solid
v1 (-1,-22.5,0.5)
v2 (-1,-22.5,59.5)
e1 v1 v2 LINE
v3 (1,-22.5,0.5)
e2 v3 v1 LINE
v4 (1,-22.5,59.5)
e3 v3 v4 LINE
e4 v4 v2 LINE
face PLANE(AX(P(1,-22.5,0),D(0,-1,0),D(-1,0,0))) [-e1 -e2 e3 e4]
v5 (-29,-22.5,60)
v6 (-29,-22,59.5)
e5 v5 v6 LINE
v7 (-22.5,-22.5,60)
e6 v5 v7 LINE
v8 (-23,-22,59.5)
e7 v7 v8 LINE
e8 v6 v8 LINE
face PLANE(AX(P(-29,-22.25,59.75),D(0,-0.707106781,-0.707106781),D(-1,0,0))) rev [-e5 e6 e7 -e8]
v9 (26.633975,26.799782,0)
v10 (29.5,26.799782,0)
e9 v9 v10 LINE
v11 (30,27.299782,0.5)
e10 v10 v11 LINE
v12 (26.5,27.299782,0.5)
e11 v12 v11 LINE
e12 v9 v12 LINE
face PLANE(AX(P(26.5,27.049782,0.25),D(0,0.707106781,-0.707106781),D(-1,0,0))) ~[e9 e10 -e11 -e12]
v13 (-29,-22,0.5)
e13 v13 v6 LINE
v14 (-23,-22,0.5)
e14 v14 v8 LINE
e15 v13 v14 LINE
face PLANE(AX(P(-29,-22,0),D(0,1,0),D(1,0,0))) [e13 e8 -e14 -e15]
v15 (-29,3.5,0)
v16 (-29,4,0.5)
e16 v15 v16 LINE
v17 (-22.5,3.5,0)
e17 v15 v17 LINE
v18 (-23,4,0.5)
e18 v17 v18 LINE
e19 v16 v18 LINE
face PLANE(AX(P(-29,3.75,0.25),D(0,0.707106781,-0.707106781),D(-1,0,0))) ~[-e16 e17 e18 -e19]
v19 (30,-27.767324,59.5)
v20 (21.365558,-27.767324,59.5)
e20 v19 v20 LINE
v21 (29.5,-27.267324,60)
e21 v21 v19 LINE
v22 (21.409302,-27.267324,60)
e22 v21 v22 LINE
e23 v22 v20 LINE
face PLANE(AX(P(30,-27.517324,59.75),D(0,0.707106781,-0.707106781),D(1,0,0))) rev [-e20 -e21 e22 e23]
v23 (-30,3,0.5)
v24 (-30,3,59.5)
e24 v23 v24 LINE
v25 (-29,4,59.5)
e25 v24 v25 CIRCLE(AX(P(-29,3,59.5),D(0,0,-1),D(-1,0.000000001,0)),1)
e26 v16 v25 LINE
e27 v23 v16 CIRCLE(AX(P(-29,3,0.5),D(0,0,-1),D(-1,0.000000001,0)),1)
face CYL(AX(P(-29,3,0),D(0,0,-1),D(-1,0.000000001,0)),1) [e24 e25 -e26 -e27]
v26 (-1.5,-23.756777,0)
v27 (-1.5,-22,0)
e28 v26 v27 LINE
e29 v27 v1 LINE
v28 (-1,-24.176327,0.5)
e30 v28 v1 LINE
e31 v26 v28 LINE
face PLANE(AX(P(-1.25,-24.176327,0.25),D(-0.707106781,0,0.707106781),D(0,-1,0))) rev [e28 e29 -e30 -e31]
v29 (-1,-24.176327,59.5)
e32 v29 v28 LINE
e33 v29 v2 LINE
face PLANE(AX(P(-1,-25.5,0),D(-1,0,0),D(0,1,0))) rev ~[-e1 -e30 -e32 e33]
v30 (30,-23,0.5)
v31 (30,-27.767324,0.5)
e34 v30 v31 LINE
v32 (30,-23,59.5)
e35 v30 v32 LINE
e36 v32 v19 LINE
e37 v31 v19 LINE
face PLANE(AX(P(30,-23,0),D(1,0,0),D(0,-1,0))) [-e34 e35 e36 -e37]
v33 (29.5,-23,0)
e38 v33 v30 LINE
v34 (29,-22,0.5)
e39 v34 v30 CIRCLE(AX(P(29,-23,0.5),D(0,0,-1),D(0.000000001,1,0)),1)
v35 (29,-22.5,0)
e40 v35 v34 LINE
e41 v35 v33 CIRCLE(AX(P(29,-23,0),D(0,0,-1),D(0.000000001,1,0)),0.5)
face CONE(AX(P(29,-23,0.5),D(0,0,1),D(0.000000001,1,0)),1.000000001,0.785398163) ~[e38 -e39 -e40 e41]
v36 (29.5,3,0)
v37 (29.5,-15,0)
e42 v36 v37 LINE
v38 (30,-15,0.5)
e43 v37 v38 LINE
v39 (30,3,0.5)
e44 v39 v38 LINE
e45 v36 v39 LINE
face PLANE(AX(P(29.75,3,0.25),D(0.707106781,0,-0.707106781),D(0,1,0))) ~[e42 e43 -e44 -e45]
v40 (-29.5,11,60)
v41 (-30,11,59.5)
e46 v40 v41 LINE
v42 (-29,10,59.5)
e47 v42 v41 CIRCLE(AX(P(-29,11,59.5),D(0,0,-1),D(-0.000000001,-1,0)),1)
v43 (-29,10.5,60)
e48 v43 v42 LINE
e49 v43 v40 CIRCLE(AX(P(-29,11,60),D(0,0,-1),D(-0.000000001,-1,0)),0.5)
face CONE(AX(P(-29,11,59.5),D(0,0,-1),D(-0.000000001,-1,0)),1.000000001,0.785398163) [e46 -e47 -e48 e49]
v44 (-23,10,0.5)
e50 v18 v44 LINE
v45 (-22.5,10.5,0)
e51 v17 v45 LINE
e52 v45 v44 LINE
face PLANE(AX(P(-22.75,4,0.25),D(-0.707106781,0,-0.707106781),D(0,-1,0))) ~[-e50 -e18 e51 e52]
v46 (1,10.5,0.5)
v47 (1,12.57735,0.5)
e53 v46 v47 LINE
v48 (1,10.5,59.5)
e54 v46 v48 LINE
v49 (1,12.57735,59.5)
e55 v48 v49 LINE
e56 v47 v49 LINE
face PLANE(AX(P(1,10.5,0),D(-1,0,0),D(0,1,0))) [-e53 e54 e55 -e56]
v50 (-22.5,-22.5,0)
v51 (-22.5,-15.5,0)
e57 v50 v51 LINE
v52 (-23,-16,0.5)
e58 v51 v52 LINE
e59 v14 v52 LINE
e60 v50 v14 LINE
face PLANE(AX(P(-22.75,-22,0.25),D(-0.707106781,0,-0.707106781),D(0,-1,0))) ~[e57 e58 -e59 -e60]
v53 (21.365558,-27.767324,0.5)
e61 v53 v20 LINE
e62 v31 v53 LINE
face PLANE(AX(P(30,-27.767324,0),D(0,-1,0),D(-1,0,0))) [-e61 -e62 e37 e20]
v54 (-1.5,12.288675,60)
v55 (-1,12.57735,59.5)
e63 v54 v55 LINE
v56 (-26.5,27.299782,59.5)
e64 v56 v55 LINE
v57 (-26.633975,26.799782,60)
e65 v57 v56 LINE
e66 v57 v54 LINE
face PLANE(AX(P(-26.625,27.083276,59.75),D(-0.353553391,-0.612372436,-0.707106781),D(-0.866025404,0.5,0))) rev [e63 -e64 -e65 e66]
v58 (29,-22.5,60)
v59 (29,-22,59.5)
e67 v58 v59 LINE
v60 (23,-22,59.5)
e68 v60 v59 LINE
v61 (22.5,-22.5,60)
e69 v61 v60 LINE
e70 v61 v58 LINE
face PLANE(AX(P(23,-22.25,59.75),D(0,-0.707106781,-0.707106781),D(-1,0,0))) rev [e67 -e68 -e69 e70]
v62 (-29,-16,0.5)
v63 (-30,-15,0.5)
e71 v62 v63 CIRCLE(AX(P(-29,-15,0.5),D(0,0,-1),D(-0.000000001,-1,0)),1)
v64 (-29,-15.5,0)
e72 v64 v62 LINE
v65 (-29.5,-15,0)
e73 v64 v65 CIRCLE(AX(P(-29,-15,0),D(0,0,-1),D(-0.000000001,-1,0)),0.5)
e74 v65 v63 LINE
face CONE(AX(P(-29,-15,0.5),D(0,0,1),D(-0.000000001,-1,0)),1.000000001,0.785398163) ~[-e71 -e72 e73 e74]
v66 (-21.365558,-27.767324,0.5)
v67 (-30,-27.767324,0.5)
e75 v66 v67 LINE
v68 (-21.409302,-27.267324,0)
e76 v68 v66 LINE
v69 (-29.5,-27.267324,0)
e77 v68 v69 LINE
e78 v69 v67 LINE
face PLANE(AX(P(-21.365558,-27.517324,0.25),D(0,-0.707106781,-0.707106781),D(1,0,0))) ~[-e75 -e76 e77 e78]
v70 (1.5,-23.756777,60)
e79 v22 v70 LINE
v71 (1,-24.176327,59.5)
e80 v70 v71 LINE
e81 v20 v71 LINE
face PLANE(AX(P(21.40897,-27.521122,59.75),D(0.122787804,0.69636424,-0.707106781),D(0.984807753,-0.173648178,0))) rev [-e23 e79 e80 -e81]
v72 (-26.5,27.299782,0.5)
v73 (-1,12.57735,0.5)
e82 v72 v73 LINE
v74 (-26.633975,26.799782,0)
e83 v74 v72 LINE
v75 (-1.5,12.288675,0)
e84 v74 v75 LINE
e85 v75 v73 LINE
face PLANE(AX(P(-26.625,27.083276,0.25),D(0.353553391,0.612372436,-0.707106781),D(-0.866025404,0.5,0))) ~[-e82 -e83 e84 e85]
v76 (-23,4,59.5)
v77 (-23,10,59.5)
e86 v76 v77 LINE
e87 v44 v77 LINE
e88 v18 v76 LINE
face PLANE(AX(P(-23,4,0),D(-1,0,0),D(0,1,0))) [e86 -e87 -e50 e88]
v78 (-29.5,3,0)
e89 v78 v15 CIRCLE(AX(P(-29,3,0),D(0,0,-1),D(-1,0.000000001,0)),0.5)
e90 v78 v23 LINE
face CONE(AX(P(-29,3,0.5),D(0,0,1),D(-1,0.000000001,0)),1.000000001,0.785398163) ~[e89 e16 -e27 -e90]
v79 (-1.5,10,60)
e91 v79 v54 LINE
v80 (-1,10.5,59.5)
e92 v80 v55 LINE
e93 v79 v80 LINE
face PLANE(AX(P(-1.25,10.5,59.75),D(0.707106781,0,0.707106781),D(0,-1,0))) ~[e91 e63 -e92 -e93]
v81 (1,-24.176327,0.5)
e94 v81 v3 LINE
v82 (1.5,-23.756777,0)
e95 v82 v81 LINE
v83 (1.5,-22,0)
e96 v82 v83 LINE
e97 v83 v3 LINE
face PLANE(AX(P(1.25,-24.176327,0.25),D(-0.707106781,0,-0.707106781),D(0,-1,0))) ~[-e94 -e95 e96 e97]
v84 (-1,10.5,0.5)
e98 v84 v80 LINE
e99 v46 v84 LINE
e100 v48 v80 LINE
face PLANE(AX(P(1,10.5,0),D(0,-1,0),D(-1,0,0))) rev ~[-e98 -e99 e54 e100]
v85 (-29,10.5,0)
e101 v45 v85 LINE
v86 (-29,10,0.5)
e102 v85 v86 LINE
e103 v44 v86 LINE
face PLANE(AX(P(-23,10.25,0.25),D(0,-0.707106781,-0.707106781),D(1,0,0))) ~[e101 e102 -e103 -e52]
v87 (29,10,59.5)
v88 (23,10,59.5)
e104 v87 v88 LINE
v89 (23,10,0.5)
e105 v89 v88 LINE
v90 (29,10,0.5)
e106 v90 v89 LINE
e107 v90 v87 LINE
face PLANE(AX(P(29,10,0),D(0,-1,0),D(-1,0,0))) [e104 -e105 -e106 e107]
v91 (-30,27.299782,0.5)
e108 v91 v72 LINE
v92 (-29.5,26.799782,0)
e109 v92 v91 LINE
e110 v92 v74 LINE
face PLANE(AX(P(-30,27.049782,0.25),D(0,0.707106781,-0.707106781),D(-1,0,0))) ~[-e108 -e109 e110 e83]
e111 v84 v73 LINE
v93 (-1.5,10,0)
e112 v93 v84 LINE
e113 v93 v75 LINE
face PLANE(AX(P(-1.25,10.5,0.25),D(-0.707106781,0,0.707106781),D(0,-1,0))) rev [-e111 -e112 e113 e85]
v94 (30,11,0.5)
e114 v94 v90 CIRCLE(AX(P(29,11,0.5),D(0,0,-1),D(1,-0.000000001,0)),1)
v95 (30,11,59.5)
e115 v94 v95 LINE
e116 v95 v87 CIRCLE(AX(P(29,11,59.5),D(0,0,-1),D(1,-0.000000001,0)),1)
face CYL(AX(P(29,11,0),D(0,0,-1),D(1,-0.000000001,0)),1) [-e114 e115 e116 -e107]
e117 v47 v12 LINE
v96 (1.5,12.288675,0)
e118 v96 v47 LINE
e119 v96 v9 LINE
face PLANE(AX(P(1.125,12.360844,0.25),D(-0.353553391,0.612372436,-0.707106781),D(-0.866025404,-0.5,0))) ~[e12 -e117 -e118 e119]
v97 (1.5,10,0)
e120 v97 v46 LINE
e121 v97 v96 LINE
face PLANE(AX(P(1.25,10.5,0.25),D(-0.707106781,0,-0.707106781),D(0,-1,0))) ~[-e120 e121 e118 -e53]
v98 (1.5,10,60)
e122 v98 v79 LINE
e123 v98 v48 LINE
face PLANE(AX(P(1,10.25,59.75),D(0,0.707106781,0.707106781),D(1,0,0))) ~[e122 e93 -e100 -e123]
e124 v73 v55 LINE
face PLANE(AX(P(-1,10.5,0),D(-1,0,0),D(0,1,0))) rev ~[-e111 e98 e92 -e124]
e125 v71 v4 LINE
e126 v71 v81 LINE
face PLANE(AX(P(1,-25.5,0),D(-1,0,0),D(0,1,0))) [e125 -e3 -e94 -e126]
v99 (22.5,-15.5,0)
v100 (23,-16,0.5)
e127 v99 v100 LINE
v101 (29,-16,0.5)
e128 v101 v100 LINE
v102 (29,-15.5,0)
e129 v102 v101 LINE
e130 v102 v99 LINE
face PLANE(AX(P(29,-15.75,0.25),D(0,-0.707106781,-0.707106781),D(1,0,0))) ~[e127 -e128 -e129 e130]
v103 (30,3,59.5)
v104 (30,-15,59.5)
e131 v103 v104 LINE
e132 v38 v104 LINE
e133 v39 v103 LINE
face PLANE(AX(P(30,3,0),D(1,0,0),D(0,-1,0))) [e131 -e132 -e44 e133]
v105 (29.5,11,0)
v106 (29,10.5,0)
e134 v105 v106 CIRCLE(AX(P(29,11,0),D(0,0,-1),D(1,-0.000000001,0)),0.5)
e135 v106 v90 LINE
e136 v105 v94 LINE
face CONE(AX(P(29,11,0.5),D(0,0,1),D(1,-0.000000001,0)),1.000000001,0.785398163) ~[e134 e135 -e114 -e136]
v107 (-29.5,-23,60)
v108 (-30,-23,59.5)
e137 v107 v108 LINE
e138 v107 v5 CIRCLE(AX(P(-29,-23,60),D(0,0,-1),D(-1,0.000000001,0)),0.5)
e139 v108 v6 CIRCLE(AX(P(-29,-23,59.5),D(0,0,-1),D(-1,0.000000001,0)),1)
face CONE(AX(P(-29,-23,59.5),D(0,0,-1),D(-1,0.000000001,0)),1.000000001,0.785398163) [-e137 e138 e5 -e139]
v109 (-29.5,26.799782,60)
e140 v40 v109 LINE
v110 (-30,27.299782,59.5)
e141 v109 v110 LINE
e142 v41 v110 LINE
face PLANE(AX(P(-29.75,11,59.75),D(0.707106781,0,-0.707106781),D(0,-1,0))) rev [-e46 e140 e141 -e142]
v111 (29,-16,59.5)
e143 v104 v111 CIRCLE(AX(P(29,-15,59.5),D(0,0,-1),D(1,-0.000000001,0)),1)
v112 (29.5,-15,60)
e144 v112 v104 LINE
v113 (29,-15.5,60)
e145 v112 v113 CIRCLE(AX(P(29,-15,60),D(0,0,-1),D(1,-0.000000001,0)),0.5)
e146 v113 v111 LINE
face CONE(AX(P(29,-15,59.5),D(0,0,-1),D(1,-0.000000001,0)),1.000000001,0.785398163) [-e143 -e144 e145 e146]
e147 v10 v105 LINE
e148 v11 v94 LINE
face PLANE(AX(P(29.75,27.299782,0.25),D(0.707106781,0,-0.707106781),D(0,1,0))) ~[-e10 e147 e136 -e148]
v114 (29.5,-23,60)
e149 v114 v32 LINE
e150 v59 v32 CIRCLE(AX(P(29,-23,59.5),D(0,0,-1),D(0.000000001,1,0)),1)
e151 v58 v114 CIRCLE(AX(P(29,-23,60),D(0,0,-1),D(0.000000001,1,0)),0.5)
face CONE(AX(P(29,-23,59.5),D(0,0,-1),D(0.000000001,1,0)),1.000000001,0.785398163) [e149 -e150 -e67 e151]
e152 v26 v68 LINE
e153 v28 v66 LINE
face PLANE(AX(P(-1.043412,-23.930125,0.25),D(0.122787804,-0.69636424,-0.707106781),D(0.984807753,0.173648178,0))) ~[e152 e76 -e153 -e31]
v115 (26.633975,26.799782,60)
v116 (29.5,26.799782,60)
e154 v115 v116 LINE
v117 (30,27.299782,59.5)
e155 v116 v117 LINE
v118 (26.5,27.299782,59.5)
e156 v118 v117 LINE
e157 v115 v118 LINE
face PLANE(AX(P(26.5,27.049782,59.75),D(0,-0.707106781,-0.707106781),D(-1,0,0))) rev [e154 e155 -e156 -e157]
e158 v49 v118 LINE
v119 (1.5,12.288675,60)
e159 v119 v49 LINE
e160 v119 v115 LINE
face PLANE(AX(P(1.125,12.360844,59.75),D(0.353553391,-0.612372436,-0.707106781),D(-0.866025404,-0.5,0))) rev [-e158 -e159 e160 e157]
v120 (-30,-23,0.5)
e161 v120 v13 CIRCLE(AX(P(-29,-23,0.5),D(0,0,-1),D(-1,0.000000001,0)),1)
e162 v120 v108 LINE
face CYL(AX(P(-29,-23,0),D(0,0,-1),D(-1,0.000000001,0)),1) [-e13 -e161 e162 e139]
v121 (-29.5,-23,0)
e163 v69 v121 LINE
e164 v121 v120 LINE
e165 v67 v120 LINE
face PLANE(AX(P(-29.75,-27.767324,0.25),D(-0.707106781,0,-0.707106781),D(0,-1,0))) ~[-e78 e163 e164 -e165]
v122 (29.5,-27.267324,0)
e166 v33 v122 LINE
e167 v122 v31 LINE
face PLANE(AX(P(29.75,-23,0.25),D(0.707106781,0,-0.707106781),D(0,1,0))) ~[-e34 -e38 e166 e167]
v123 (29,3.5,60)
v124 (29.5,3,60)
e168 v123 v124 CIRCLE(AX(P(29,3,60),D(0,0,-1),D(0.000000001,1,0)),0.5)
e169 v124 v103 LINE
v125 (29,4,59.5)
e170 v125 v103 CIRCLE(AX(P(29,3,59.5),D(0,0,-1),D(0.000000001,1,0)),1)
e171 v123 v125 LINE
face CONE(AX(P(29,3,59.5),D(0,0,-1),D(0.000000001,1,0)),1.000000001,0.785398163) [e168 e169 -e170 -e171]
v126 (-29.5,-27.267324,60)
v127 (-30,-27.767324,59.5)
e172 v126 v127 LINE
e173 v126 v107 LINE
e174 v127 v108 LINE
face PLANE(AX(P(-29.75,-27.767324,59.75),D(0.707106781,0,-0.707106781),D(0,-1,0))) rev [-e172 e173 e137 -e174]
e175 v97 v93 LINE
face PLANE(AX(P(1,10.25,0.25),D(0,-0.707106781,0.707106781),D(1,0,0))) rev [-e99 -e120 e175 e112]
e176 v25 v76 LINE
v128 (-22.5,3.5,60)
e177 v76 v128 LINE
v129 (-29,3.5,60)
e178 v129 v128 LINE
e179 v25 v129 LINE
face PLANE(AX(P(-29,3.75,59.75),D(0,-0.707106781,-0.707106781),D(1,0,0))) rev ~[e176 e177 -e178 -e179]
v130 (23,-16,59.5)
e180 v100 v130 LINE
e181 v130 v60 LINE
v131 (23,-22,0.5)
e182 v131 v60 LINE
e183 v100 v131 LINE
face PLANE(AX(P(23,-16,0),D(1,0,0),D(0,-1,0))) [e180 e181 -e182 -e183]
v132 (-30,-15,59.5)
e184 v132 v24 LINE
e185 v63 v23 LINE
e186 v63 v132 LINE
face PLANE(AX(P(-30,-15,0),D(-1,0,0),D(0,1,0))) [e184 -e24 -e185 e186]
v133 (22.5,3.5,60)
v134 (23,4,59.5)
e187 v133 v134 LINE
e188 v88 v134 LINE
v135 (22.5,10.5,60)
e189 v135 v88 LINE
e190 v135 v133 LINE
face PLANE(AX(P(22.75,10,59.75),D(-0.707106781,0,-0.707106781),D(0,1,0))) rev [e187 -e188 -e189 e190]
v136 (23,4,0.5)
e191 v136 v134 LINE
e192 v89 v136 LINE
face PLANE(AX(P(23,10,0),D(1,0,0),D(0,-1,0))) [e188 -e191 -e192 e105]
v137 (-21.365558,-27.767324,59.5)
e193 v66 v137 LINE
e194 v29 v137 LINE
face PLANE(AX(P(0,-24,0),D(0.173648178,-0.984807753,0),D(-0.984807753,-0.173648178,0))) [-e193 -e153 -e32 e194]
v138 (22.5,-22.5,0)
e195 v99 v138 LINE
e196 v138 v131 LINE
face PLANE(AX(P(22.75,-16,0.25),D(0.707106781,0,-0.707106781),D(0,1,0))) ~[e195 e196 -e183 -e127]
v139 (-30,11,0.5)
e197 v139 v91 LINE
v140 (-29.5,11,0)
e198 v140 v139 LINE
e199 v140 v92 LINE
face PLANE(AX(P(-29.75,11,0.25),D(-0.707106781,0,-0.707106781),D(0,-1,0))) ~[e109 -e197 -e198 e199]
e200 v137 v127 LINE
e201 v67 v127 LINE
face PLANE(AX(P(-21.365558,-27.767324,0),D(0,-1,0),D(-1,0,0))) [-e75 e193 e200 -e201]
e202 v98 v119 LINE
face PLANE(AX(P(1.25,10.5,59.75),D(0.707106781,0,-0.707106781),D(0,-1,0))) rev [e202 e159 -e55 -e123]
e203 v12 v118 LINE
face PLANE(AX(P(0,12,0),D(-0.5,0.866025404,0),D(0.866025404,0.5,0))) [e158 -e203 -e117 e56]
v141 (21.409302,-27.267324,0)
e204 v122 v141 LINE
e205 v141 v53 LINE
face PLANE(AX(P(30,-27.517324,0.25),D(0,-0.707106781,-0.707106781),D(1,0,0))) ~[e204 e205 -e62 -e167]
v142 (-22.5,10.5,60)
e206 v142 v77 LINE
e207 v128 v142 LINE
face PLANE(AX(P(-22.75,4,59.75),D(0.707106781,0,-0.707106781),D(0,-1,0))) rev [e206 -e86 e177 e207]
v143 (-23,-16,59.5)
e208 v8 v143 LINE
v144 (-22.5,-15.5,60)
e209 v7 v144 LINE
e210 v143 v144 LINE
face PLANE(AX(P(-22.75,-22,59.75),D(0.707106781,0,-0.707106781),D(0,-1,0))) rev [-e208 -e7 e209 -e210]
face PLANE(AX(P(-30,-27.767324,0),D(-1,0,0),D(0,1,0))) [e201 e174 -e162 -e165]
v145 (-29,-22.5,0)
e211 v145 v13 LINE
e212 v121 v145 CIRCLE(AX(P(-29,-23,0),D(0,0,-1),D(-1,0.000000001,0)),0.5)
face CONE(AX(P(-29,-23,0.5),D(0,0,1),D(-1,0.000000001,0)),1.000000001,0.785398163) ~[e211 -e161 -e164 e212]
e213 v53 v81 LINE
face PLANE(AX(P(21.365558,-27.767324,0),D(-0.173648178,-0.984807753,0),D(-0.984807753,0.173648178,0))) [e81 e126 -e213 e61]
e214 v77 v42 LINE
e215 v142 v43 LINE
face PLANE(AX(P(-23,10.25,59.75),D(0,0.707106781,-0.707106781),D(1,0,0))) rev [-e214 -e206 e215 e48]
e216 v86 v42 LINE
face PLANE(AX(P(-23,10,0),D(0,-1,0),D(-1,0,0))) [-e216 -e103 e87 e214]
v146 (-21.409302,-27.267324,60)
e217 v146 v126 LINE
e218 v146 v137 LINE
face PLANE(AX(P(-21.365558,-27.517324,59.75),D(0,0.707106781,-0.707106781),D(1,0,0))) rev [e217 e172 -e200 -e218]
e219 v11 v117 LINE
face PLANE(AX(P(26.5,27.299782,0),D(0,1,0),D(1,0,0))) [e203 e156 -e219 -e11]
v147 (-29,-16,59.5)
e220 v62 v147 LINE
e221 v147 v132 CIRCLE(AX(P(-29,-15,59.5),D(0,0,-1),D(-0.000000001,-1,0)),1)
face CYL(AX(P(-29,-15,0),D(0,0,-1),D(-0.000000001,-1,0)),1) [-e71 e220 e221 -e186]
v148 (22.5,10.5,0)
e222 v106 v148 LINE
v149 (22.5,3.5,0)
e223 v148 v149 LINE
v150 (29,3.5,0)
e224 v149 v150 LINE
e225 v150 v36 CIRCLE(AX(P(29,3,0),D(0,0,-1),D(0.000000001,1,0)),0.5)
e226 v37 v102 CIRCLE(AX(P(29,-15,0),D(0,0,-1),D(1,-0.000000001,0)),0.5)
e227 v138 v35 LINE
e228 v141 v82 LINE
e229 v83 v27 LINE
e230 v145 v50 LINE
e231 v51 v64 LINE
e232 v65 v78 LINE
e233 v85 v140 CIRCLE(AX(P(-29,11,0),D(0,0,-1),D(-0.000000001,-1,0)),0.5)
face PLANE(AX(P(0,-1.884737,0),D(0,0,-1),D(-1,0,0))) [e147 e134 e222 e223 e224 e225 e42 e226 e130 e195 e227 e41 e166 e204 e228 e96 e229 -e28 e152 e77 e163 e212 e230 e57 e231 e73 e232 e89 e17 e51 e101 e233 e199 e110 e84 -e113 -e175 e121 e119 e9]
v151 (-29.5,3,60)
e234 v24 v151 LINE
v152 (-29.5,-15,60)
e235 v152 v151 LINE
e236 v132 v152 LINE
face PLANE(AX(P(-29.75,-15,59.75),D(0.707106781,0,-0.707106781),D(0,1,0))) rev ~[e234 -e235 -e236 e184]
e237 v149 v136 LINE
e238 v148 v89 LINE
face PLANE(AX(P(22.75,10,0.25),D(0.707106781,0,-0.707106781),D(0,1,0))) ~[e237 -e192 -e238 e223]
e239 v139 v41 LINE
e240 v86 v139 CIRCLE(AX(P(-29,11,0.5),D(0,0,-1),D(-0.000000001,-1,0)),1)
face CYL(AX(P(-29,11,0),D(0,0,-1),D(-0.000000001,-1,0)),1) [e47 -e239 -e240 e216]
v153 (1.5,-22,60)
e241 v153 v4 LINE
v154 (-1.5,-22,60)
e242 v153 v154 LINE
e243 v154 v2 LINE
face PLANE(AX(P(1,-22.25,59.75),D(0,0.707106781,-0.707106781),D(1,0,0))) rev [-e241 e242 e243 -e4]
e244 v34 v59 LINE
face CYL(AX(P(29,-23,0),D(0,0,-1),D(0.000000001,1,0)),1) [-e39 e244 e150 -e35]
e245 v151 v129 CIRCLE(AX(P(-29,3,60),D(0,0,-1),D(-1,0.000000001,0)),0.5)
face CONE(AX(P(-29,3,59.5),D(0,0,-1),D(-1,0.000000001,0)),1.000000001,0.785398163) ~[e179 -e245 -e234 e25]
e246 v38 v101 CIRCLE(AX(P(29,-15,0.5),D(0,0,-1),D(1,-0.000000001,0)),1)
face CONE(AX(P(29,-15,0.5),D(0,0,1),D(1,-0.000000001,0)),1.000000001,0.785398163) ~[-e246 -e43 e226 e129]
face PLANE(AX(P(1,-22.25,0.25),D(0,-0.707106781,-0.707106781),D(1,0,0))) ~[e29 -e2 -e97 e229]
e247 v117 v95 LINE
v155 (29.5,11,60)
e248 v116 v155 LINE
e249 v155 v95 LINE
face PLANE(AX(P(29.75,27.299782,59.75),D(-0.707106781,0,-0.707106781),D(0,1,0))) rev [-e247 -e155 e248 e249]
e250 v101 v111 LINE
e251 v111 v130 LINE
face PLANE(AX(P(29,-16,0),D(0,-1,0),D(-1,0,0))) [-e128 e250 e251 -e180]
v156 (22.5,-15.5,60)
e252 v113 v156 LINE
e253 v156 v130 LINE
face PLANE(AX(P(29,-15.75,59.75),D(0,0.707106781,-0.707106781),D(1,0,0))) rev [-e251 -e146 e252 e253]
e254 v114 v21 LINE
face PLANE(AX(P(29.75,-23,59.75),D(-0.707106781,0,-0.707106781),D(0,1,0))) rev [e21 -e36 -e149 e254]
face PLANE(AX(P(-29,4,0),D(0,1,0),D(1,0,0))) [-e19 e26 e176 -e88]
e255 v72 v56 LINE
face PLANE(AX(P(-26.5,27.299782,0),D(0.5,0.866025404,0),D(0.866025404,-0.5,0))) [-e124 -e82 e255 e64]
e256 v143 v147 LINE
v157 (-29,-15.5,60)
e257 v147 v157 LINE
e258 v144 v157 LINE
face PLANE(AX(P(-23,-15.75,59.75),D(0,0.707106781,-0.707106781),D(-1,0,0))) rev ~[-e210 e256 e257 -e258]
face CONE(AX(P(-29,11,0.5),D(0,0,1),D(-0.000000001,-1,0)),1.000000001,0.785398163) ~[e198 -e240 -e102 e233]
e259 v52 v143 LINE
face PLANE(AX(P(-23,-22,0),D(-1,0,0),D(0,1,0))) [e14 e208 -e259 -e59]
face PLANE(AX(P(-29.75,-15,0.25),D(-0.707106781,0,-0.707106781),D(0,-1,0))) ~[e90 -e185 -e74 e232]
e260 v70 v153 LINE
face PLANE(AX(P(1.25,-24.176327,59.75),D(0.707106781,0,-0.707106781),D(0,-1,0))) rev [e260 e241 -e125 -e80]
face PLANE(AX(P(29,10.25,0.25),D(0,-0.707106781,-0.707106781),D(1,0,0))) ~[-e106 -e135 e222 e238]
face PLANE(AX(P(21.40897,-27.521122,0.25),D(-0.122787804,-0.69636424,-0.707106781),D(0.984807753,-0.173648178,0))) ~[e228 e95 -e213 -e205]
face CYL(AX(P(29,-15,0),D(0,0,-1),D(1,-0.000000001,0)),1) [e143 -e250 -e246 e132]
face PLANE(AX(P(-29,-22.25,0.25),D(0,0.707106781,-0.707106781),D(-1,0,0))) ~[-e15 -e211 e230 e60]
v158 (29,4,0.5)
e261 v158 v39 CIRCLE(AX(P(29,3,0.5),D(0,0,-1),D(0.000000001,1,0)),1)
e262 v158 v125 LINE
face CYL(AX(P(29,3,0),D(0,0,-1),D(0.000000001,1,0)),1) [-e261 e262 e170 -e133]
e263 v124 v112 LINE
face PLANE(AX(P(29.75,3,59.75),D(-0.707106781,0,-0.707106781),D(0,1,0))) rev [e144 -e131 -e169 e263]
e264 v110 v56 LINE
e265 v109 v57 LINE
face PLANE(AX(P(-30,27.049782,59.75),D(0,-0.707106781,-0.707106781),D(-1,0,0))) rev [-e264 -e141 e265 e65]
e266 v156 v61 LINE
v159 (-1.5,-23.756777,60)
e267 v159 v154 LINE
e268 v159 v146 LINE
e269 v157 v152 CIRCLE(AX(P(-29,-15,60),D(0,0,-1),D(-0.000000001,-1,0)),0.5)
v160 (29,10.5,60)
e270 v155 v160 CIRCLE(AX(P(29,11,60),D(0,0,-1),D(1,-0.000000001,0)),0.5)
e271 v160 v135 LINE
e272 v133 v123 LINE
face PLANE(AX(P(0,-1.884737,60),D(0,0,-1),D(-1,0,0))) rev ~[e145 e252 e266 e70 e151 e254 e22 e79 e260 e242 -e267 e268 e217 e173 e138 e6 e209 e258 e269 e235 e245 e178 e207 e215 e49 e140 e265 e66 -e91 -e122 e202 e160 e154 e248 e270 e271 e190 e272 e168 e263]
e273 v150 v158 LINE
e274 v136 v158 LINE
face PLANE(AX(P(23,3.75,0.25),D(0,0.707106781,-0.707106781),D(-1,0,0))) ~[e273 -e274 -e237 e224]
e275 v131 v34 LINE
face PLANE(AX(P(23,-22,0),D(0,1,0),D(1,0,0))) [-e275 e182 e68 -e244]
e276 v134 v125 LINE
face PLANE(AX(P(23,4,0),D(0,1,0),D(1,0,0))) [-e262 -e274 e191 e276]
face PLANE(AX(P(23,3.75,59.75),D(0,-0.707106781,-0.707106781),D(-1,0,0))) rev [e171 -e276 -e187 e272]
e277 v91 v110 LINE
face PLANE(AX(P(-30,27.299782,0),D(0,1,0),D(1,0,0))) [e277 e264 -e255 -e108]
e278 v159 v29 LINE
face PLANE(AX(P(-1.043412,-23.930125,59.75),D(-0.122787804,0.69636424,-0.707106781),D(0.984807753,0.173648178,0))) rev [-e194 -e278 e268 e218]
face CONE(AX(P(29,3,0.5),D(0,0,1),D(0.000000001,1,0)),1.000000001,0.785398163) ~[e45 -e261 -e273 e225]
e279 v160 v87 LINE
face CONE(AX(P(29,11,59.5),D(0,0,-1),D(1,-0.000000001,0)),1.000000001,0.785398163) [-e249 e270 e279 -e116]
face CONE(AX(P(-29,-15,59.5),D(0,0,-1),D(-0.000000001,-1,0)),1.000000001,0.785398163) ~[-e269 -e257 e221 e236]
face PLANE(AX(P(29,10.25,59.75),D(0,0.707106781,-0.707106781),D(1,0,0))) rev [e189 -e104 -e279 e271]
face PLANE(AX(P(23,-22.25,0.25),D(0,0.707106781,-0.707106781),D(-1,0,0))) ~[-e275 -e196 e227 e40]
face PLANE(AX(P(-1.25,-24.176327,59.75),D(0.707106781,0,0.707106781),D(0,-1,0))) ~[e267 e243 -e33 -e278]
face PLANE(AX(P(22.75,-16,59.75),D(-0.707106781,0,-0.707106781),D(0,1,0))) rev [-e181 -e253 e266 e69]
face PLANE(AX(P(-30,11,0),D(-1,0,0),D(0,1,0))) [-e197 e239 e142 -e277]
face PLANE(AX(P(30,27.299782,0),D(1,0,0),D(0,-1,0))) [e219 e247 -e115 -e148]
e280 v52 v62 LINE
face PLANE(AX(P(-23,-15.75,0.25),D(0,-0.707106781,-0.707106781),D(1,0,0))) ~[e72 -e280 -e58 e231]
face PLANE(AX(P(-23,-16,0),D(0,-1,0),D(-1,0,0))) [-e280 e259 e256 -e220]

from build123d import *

# Parameters (mm, degrees)
BOSS_EXTRUDE1_DEPTH = 60
SKETCH3_W           = 2
SKETCH3_H           = 3
CUT_EXTRUDE1_DEPTH  = 73.601820229
CHAMFER1_SIZE       = 0.5


with BuildPart() as part:
    # Sketch1 → Boss-Extrude1 (new body)
    with BuildSketch(Plane.XY):
        with BuildLine():
            Line((-30, 0), (-30, 3))
            ThreePointArc((-30, 3), (-29.707106781, 3.707106781), (-29, 4))
            Line((-29, 4), (-23, 4))
            Line((-23, 4), (-23, 10))
            Line((-23, 10), (-29, 10))
            ThreePointArc((-29, 10), (-29.707106781, 10.292893219), (-30, 11))
            Line((-30, 11), (-30, 27.299782134))
            Line((-30, 27.299782134), (-26.5, 27.299782134))
            Line((-26.5, 27.299782134), (0, 12))
            Line((0, 12), (26.5, 27.299782134))
            Line((26.5, 27.299782134), (30, 27.299782134))
            Line((30, 27.299782134), (30, 11))
            ThreePointArc((30, 11), (29.707106781, 10.292893219), (29, 10))
            Line((29, 10), (23, 10))
            Line((23, 10), (23, 4))
            Line((23, 4), (29, 4))
            ThreePointArc((29, 4), (29.707106781, 3.707106781), (30, 3))
            Line((30, 3), (30, 0))
            Line((30, 0), (30, -15))
            ThreePointArc((30, -15), (29.707106781, -15.707106781), (29, -16))
            Line((29, -16), (23, -16))
            Line((23, -16), (23, -22))
            Line((23, -22), (29, -22))
            ThreePointArc((29, -22), (29.707106781, -22.292893219), (30, -23))
            Line((30, -23), (30, -27.767324332))
            Line((30, -27.767324332), (21.36555799, -27.767324332))
            Line((21.36555799, -27.767324332), (0, -24))
            Line((0, -24), (-21.36555799, -27.767324332))
            Line((-21.36555799, -27.767324332), (-30, -27.767324332))
            Line((-30, -27.767324332), (-30, -23))
            ThreePointArc((-30, -23), (-29.707106781, -22.292893219), (-29, -22))
            Line((-29, -22), (-23, -22))
            Line((-23, -22), (-23, -16))
            Line((-23, -16), (-29, -16))
            ThreePointArc((-29, -16), (-29.707106781, -15.707106781), (-30, -15))
            Line((-30, -15), (-30, 0))
        make_face()
    extrude(amount=BOSS_EXTRUDE1_DEPTH)

    # Sketch3 → Cut-Extrude1 (cut, through all)
    with BuildSketch(Plane(origin=(0, 0, 0), x_dir=(-1, 0, 0), z_dir=(0, 0, -1))):
        with Locations((0, 12)):
            Rectangle(SKETCH3_W, SKETCH3_H)
        with Locations((0, -24)):
            Rectangle(SKETCH3_W, SKETCH3_H)
    extrude(amount=-CUT_EXTRUDE1_DEPTH, mode=Mode.SUBTRACT)

    # Chamfer1
    chamfer1_edges = [part.edges().sort_by_distance(p)[0] for p in [
        (-29.707106781, 3.707106781, 60),
        (-26, 4, 60),
        (-23, 7, 60),
        (-26, 10, 60),
        (-29.707106781, 10.292893219, 60),
        (-30, 19.149891067, 60),
        (-28.25, 27.299782134, 60),
        (-13.75, 19.938566201, 60),
        (13.75, 19.938566201, 60),
        (28.25, 27.299782134, 60),
        (30, 19.149891067, 60),
        (29.707106781, 10.292893219, 60),
        (26, 10, 60),
        (23, 7, 60),
        (26, 4, 60),
        (29.707106781, 3.707106781, 60),
        (30, -6, 60),
        (29.707106781, -15.707106781, 60),
        (26, -16, 60),
        (23, -19, 60),
        (26, -22, 60),
        (29.707106781, -22.292893219, 60),
        (30, -25.383662166, 60),
        (25.682778995, -27.767324332, 60),
        (11.182778995, -25.971825656, 60),
        (-11.182778995, -25.971825656, 60),
        (-25.682778995, -27.767324332, 60),
        (-30, -25.383662166, 60),
        (-29.707106781, -22.292893219, 60),
        (-26, -22, 60),
        (-23, -19, 60),
        (-26, -16, 60),
        (-29.707106781, -15.707106781, 60),
        (-30, -6, 60),
        (-26, -16, 0),
        (-23, -19, 0),
        (-26, -22, 0),
        (-29.707106781, -22.292893219, 0),
        (-30, -25.383662166, 0),
        (-25.682778995, -27.767324332, 0),
        (-11.182778995, -25.971825656, 0),
        (11.182778995, -25.971825656, 0),
        (25.682778995, -27.767324332, 0),
        (30, -25.383662166, 0),
        (29.707106781, -22.292893219, 0),
        (26, -22, 0),
        (23, -19, 0),
        (26, -16, 0),
        (29.707106781, -15.707106781, 0),
        (30, -6, 0),
        (29.707106781, 3.707106781, 0),
        (26, 4, 0),
        (23, 7, 0),
        (26, 10, 0),
        (29.707106781, 10.292893219, 0),
        (30, 19.149891067, 0),
        (28.25, 27.299782134, 0),
        (13.75, 19.938566201, 0),
        (-13.75, 19.938566201, 0),
        (-28.25, 27.299782134, 0),
        (-30, 19.149891067, 0),
        (-29.707106781, 10.292893219, 0),
        (-26, 10, 0),
        (-23, 7, 0),
        (-26, 4, 0),
        (-29.707106781, 3.707106781, 0),
        (-30, -6, 0),
        (-29.707106781, -15.707106781, 0),
        (1, -23.33816349, 60),
        (0, -22.5, 60),
        (-1, -23.33816349, 60),
        (-1, 11.538675135, 60),
        (0, 10.5, 60),
        (1, 11.538675135, 60),
        (-1, 11.538675135, 0),
        (-1, -23.33816349, 0),
        (0, -22.5, 0),
        (1, -23.33816349, 0),
        (1, 11.538675135, 0),
        (0, 10.5, 0),
    ]]
    chamfer(chamfer1_edges, length=CHAMFER1_SIZE)


solid = part.part
